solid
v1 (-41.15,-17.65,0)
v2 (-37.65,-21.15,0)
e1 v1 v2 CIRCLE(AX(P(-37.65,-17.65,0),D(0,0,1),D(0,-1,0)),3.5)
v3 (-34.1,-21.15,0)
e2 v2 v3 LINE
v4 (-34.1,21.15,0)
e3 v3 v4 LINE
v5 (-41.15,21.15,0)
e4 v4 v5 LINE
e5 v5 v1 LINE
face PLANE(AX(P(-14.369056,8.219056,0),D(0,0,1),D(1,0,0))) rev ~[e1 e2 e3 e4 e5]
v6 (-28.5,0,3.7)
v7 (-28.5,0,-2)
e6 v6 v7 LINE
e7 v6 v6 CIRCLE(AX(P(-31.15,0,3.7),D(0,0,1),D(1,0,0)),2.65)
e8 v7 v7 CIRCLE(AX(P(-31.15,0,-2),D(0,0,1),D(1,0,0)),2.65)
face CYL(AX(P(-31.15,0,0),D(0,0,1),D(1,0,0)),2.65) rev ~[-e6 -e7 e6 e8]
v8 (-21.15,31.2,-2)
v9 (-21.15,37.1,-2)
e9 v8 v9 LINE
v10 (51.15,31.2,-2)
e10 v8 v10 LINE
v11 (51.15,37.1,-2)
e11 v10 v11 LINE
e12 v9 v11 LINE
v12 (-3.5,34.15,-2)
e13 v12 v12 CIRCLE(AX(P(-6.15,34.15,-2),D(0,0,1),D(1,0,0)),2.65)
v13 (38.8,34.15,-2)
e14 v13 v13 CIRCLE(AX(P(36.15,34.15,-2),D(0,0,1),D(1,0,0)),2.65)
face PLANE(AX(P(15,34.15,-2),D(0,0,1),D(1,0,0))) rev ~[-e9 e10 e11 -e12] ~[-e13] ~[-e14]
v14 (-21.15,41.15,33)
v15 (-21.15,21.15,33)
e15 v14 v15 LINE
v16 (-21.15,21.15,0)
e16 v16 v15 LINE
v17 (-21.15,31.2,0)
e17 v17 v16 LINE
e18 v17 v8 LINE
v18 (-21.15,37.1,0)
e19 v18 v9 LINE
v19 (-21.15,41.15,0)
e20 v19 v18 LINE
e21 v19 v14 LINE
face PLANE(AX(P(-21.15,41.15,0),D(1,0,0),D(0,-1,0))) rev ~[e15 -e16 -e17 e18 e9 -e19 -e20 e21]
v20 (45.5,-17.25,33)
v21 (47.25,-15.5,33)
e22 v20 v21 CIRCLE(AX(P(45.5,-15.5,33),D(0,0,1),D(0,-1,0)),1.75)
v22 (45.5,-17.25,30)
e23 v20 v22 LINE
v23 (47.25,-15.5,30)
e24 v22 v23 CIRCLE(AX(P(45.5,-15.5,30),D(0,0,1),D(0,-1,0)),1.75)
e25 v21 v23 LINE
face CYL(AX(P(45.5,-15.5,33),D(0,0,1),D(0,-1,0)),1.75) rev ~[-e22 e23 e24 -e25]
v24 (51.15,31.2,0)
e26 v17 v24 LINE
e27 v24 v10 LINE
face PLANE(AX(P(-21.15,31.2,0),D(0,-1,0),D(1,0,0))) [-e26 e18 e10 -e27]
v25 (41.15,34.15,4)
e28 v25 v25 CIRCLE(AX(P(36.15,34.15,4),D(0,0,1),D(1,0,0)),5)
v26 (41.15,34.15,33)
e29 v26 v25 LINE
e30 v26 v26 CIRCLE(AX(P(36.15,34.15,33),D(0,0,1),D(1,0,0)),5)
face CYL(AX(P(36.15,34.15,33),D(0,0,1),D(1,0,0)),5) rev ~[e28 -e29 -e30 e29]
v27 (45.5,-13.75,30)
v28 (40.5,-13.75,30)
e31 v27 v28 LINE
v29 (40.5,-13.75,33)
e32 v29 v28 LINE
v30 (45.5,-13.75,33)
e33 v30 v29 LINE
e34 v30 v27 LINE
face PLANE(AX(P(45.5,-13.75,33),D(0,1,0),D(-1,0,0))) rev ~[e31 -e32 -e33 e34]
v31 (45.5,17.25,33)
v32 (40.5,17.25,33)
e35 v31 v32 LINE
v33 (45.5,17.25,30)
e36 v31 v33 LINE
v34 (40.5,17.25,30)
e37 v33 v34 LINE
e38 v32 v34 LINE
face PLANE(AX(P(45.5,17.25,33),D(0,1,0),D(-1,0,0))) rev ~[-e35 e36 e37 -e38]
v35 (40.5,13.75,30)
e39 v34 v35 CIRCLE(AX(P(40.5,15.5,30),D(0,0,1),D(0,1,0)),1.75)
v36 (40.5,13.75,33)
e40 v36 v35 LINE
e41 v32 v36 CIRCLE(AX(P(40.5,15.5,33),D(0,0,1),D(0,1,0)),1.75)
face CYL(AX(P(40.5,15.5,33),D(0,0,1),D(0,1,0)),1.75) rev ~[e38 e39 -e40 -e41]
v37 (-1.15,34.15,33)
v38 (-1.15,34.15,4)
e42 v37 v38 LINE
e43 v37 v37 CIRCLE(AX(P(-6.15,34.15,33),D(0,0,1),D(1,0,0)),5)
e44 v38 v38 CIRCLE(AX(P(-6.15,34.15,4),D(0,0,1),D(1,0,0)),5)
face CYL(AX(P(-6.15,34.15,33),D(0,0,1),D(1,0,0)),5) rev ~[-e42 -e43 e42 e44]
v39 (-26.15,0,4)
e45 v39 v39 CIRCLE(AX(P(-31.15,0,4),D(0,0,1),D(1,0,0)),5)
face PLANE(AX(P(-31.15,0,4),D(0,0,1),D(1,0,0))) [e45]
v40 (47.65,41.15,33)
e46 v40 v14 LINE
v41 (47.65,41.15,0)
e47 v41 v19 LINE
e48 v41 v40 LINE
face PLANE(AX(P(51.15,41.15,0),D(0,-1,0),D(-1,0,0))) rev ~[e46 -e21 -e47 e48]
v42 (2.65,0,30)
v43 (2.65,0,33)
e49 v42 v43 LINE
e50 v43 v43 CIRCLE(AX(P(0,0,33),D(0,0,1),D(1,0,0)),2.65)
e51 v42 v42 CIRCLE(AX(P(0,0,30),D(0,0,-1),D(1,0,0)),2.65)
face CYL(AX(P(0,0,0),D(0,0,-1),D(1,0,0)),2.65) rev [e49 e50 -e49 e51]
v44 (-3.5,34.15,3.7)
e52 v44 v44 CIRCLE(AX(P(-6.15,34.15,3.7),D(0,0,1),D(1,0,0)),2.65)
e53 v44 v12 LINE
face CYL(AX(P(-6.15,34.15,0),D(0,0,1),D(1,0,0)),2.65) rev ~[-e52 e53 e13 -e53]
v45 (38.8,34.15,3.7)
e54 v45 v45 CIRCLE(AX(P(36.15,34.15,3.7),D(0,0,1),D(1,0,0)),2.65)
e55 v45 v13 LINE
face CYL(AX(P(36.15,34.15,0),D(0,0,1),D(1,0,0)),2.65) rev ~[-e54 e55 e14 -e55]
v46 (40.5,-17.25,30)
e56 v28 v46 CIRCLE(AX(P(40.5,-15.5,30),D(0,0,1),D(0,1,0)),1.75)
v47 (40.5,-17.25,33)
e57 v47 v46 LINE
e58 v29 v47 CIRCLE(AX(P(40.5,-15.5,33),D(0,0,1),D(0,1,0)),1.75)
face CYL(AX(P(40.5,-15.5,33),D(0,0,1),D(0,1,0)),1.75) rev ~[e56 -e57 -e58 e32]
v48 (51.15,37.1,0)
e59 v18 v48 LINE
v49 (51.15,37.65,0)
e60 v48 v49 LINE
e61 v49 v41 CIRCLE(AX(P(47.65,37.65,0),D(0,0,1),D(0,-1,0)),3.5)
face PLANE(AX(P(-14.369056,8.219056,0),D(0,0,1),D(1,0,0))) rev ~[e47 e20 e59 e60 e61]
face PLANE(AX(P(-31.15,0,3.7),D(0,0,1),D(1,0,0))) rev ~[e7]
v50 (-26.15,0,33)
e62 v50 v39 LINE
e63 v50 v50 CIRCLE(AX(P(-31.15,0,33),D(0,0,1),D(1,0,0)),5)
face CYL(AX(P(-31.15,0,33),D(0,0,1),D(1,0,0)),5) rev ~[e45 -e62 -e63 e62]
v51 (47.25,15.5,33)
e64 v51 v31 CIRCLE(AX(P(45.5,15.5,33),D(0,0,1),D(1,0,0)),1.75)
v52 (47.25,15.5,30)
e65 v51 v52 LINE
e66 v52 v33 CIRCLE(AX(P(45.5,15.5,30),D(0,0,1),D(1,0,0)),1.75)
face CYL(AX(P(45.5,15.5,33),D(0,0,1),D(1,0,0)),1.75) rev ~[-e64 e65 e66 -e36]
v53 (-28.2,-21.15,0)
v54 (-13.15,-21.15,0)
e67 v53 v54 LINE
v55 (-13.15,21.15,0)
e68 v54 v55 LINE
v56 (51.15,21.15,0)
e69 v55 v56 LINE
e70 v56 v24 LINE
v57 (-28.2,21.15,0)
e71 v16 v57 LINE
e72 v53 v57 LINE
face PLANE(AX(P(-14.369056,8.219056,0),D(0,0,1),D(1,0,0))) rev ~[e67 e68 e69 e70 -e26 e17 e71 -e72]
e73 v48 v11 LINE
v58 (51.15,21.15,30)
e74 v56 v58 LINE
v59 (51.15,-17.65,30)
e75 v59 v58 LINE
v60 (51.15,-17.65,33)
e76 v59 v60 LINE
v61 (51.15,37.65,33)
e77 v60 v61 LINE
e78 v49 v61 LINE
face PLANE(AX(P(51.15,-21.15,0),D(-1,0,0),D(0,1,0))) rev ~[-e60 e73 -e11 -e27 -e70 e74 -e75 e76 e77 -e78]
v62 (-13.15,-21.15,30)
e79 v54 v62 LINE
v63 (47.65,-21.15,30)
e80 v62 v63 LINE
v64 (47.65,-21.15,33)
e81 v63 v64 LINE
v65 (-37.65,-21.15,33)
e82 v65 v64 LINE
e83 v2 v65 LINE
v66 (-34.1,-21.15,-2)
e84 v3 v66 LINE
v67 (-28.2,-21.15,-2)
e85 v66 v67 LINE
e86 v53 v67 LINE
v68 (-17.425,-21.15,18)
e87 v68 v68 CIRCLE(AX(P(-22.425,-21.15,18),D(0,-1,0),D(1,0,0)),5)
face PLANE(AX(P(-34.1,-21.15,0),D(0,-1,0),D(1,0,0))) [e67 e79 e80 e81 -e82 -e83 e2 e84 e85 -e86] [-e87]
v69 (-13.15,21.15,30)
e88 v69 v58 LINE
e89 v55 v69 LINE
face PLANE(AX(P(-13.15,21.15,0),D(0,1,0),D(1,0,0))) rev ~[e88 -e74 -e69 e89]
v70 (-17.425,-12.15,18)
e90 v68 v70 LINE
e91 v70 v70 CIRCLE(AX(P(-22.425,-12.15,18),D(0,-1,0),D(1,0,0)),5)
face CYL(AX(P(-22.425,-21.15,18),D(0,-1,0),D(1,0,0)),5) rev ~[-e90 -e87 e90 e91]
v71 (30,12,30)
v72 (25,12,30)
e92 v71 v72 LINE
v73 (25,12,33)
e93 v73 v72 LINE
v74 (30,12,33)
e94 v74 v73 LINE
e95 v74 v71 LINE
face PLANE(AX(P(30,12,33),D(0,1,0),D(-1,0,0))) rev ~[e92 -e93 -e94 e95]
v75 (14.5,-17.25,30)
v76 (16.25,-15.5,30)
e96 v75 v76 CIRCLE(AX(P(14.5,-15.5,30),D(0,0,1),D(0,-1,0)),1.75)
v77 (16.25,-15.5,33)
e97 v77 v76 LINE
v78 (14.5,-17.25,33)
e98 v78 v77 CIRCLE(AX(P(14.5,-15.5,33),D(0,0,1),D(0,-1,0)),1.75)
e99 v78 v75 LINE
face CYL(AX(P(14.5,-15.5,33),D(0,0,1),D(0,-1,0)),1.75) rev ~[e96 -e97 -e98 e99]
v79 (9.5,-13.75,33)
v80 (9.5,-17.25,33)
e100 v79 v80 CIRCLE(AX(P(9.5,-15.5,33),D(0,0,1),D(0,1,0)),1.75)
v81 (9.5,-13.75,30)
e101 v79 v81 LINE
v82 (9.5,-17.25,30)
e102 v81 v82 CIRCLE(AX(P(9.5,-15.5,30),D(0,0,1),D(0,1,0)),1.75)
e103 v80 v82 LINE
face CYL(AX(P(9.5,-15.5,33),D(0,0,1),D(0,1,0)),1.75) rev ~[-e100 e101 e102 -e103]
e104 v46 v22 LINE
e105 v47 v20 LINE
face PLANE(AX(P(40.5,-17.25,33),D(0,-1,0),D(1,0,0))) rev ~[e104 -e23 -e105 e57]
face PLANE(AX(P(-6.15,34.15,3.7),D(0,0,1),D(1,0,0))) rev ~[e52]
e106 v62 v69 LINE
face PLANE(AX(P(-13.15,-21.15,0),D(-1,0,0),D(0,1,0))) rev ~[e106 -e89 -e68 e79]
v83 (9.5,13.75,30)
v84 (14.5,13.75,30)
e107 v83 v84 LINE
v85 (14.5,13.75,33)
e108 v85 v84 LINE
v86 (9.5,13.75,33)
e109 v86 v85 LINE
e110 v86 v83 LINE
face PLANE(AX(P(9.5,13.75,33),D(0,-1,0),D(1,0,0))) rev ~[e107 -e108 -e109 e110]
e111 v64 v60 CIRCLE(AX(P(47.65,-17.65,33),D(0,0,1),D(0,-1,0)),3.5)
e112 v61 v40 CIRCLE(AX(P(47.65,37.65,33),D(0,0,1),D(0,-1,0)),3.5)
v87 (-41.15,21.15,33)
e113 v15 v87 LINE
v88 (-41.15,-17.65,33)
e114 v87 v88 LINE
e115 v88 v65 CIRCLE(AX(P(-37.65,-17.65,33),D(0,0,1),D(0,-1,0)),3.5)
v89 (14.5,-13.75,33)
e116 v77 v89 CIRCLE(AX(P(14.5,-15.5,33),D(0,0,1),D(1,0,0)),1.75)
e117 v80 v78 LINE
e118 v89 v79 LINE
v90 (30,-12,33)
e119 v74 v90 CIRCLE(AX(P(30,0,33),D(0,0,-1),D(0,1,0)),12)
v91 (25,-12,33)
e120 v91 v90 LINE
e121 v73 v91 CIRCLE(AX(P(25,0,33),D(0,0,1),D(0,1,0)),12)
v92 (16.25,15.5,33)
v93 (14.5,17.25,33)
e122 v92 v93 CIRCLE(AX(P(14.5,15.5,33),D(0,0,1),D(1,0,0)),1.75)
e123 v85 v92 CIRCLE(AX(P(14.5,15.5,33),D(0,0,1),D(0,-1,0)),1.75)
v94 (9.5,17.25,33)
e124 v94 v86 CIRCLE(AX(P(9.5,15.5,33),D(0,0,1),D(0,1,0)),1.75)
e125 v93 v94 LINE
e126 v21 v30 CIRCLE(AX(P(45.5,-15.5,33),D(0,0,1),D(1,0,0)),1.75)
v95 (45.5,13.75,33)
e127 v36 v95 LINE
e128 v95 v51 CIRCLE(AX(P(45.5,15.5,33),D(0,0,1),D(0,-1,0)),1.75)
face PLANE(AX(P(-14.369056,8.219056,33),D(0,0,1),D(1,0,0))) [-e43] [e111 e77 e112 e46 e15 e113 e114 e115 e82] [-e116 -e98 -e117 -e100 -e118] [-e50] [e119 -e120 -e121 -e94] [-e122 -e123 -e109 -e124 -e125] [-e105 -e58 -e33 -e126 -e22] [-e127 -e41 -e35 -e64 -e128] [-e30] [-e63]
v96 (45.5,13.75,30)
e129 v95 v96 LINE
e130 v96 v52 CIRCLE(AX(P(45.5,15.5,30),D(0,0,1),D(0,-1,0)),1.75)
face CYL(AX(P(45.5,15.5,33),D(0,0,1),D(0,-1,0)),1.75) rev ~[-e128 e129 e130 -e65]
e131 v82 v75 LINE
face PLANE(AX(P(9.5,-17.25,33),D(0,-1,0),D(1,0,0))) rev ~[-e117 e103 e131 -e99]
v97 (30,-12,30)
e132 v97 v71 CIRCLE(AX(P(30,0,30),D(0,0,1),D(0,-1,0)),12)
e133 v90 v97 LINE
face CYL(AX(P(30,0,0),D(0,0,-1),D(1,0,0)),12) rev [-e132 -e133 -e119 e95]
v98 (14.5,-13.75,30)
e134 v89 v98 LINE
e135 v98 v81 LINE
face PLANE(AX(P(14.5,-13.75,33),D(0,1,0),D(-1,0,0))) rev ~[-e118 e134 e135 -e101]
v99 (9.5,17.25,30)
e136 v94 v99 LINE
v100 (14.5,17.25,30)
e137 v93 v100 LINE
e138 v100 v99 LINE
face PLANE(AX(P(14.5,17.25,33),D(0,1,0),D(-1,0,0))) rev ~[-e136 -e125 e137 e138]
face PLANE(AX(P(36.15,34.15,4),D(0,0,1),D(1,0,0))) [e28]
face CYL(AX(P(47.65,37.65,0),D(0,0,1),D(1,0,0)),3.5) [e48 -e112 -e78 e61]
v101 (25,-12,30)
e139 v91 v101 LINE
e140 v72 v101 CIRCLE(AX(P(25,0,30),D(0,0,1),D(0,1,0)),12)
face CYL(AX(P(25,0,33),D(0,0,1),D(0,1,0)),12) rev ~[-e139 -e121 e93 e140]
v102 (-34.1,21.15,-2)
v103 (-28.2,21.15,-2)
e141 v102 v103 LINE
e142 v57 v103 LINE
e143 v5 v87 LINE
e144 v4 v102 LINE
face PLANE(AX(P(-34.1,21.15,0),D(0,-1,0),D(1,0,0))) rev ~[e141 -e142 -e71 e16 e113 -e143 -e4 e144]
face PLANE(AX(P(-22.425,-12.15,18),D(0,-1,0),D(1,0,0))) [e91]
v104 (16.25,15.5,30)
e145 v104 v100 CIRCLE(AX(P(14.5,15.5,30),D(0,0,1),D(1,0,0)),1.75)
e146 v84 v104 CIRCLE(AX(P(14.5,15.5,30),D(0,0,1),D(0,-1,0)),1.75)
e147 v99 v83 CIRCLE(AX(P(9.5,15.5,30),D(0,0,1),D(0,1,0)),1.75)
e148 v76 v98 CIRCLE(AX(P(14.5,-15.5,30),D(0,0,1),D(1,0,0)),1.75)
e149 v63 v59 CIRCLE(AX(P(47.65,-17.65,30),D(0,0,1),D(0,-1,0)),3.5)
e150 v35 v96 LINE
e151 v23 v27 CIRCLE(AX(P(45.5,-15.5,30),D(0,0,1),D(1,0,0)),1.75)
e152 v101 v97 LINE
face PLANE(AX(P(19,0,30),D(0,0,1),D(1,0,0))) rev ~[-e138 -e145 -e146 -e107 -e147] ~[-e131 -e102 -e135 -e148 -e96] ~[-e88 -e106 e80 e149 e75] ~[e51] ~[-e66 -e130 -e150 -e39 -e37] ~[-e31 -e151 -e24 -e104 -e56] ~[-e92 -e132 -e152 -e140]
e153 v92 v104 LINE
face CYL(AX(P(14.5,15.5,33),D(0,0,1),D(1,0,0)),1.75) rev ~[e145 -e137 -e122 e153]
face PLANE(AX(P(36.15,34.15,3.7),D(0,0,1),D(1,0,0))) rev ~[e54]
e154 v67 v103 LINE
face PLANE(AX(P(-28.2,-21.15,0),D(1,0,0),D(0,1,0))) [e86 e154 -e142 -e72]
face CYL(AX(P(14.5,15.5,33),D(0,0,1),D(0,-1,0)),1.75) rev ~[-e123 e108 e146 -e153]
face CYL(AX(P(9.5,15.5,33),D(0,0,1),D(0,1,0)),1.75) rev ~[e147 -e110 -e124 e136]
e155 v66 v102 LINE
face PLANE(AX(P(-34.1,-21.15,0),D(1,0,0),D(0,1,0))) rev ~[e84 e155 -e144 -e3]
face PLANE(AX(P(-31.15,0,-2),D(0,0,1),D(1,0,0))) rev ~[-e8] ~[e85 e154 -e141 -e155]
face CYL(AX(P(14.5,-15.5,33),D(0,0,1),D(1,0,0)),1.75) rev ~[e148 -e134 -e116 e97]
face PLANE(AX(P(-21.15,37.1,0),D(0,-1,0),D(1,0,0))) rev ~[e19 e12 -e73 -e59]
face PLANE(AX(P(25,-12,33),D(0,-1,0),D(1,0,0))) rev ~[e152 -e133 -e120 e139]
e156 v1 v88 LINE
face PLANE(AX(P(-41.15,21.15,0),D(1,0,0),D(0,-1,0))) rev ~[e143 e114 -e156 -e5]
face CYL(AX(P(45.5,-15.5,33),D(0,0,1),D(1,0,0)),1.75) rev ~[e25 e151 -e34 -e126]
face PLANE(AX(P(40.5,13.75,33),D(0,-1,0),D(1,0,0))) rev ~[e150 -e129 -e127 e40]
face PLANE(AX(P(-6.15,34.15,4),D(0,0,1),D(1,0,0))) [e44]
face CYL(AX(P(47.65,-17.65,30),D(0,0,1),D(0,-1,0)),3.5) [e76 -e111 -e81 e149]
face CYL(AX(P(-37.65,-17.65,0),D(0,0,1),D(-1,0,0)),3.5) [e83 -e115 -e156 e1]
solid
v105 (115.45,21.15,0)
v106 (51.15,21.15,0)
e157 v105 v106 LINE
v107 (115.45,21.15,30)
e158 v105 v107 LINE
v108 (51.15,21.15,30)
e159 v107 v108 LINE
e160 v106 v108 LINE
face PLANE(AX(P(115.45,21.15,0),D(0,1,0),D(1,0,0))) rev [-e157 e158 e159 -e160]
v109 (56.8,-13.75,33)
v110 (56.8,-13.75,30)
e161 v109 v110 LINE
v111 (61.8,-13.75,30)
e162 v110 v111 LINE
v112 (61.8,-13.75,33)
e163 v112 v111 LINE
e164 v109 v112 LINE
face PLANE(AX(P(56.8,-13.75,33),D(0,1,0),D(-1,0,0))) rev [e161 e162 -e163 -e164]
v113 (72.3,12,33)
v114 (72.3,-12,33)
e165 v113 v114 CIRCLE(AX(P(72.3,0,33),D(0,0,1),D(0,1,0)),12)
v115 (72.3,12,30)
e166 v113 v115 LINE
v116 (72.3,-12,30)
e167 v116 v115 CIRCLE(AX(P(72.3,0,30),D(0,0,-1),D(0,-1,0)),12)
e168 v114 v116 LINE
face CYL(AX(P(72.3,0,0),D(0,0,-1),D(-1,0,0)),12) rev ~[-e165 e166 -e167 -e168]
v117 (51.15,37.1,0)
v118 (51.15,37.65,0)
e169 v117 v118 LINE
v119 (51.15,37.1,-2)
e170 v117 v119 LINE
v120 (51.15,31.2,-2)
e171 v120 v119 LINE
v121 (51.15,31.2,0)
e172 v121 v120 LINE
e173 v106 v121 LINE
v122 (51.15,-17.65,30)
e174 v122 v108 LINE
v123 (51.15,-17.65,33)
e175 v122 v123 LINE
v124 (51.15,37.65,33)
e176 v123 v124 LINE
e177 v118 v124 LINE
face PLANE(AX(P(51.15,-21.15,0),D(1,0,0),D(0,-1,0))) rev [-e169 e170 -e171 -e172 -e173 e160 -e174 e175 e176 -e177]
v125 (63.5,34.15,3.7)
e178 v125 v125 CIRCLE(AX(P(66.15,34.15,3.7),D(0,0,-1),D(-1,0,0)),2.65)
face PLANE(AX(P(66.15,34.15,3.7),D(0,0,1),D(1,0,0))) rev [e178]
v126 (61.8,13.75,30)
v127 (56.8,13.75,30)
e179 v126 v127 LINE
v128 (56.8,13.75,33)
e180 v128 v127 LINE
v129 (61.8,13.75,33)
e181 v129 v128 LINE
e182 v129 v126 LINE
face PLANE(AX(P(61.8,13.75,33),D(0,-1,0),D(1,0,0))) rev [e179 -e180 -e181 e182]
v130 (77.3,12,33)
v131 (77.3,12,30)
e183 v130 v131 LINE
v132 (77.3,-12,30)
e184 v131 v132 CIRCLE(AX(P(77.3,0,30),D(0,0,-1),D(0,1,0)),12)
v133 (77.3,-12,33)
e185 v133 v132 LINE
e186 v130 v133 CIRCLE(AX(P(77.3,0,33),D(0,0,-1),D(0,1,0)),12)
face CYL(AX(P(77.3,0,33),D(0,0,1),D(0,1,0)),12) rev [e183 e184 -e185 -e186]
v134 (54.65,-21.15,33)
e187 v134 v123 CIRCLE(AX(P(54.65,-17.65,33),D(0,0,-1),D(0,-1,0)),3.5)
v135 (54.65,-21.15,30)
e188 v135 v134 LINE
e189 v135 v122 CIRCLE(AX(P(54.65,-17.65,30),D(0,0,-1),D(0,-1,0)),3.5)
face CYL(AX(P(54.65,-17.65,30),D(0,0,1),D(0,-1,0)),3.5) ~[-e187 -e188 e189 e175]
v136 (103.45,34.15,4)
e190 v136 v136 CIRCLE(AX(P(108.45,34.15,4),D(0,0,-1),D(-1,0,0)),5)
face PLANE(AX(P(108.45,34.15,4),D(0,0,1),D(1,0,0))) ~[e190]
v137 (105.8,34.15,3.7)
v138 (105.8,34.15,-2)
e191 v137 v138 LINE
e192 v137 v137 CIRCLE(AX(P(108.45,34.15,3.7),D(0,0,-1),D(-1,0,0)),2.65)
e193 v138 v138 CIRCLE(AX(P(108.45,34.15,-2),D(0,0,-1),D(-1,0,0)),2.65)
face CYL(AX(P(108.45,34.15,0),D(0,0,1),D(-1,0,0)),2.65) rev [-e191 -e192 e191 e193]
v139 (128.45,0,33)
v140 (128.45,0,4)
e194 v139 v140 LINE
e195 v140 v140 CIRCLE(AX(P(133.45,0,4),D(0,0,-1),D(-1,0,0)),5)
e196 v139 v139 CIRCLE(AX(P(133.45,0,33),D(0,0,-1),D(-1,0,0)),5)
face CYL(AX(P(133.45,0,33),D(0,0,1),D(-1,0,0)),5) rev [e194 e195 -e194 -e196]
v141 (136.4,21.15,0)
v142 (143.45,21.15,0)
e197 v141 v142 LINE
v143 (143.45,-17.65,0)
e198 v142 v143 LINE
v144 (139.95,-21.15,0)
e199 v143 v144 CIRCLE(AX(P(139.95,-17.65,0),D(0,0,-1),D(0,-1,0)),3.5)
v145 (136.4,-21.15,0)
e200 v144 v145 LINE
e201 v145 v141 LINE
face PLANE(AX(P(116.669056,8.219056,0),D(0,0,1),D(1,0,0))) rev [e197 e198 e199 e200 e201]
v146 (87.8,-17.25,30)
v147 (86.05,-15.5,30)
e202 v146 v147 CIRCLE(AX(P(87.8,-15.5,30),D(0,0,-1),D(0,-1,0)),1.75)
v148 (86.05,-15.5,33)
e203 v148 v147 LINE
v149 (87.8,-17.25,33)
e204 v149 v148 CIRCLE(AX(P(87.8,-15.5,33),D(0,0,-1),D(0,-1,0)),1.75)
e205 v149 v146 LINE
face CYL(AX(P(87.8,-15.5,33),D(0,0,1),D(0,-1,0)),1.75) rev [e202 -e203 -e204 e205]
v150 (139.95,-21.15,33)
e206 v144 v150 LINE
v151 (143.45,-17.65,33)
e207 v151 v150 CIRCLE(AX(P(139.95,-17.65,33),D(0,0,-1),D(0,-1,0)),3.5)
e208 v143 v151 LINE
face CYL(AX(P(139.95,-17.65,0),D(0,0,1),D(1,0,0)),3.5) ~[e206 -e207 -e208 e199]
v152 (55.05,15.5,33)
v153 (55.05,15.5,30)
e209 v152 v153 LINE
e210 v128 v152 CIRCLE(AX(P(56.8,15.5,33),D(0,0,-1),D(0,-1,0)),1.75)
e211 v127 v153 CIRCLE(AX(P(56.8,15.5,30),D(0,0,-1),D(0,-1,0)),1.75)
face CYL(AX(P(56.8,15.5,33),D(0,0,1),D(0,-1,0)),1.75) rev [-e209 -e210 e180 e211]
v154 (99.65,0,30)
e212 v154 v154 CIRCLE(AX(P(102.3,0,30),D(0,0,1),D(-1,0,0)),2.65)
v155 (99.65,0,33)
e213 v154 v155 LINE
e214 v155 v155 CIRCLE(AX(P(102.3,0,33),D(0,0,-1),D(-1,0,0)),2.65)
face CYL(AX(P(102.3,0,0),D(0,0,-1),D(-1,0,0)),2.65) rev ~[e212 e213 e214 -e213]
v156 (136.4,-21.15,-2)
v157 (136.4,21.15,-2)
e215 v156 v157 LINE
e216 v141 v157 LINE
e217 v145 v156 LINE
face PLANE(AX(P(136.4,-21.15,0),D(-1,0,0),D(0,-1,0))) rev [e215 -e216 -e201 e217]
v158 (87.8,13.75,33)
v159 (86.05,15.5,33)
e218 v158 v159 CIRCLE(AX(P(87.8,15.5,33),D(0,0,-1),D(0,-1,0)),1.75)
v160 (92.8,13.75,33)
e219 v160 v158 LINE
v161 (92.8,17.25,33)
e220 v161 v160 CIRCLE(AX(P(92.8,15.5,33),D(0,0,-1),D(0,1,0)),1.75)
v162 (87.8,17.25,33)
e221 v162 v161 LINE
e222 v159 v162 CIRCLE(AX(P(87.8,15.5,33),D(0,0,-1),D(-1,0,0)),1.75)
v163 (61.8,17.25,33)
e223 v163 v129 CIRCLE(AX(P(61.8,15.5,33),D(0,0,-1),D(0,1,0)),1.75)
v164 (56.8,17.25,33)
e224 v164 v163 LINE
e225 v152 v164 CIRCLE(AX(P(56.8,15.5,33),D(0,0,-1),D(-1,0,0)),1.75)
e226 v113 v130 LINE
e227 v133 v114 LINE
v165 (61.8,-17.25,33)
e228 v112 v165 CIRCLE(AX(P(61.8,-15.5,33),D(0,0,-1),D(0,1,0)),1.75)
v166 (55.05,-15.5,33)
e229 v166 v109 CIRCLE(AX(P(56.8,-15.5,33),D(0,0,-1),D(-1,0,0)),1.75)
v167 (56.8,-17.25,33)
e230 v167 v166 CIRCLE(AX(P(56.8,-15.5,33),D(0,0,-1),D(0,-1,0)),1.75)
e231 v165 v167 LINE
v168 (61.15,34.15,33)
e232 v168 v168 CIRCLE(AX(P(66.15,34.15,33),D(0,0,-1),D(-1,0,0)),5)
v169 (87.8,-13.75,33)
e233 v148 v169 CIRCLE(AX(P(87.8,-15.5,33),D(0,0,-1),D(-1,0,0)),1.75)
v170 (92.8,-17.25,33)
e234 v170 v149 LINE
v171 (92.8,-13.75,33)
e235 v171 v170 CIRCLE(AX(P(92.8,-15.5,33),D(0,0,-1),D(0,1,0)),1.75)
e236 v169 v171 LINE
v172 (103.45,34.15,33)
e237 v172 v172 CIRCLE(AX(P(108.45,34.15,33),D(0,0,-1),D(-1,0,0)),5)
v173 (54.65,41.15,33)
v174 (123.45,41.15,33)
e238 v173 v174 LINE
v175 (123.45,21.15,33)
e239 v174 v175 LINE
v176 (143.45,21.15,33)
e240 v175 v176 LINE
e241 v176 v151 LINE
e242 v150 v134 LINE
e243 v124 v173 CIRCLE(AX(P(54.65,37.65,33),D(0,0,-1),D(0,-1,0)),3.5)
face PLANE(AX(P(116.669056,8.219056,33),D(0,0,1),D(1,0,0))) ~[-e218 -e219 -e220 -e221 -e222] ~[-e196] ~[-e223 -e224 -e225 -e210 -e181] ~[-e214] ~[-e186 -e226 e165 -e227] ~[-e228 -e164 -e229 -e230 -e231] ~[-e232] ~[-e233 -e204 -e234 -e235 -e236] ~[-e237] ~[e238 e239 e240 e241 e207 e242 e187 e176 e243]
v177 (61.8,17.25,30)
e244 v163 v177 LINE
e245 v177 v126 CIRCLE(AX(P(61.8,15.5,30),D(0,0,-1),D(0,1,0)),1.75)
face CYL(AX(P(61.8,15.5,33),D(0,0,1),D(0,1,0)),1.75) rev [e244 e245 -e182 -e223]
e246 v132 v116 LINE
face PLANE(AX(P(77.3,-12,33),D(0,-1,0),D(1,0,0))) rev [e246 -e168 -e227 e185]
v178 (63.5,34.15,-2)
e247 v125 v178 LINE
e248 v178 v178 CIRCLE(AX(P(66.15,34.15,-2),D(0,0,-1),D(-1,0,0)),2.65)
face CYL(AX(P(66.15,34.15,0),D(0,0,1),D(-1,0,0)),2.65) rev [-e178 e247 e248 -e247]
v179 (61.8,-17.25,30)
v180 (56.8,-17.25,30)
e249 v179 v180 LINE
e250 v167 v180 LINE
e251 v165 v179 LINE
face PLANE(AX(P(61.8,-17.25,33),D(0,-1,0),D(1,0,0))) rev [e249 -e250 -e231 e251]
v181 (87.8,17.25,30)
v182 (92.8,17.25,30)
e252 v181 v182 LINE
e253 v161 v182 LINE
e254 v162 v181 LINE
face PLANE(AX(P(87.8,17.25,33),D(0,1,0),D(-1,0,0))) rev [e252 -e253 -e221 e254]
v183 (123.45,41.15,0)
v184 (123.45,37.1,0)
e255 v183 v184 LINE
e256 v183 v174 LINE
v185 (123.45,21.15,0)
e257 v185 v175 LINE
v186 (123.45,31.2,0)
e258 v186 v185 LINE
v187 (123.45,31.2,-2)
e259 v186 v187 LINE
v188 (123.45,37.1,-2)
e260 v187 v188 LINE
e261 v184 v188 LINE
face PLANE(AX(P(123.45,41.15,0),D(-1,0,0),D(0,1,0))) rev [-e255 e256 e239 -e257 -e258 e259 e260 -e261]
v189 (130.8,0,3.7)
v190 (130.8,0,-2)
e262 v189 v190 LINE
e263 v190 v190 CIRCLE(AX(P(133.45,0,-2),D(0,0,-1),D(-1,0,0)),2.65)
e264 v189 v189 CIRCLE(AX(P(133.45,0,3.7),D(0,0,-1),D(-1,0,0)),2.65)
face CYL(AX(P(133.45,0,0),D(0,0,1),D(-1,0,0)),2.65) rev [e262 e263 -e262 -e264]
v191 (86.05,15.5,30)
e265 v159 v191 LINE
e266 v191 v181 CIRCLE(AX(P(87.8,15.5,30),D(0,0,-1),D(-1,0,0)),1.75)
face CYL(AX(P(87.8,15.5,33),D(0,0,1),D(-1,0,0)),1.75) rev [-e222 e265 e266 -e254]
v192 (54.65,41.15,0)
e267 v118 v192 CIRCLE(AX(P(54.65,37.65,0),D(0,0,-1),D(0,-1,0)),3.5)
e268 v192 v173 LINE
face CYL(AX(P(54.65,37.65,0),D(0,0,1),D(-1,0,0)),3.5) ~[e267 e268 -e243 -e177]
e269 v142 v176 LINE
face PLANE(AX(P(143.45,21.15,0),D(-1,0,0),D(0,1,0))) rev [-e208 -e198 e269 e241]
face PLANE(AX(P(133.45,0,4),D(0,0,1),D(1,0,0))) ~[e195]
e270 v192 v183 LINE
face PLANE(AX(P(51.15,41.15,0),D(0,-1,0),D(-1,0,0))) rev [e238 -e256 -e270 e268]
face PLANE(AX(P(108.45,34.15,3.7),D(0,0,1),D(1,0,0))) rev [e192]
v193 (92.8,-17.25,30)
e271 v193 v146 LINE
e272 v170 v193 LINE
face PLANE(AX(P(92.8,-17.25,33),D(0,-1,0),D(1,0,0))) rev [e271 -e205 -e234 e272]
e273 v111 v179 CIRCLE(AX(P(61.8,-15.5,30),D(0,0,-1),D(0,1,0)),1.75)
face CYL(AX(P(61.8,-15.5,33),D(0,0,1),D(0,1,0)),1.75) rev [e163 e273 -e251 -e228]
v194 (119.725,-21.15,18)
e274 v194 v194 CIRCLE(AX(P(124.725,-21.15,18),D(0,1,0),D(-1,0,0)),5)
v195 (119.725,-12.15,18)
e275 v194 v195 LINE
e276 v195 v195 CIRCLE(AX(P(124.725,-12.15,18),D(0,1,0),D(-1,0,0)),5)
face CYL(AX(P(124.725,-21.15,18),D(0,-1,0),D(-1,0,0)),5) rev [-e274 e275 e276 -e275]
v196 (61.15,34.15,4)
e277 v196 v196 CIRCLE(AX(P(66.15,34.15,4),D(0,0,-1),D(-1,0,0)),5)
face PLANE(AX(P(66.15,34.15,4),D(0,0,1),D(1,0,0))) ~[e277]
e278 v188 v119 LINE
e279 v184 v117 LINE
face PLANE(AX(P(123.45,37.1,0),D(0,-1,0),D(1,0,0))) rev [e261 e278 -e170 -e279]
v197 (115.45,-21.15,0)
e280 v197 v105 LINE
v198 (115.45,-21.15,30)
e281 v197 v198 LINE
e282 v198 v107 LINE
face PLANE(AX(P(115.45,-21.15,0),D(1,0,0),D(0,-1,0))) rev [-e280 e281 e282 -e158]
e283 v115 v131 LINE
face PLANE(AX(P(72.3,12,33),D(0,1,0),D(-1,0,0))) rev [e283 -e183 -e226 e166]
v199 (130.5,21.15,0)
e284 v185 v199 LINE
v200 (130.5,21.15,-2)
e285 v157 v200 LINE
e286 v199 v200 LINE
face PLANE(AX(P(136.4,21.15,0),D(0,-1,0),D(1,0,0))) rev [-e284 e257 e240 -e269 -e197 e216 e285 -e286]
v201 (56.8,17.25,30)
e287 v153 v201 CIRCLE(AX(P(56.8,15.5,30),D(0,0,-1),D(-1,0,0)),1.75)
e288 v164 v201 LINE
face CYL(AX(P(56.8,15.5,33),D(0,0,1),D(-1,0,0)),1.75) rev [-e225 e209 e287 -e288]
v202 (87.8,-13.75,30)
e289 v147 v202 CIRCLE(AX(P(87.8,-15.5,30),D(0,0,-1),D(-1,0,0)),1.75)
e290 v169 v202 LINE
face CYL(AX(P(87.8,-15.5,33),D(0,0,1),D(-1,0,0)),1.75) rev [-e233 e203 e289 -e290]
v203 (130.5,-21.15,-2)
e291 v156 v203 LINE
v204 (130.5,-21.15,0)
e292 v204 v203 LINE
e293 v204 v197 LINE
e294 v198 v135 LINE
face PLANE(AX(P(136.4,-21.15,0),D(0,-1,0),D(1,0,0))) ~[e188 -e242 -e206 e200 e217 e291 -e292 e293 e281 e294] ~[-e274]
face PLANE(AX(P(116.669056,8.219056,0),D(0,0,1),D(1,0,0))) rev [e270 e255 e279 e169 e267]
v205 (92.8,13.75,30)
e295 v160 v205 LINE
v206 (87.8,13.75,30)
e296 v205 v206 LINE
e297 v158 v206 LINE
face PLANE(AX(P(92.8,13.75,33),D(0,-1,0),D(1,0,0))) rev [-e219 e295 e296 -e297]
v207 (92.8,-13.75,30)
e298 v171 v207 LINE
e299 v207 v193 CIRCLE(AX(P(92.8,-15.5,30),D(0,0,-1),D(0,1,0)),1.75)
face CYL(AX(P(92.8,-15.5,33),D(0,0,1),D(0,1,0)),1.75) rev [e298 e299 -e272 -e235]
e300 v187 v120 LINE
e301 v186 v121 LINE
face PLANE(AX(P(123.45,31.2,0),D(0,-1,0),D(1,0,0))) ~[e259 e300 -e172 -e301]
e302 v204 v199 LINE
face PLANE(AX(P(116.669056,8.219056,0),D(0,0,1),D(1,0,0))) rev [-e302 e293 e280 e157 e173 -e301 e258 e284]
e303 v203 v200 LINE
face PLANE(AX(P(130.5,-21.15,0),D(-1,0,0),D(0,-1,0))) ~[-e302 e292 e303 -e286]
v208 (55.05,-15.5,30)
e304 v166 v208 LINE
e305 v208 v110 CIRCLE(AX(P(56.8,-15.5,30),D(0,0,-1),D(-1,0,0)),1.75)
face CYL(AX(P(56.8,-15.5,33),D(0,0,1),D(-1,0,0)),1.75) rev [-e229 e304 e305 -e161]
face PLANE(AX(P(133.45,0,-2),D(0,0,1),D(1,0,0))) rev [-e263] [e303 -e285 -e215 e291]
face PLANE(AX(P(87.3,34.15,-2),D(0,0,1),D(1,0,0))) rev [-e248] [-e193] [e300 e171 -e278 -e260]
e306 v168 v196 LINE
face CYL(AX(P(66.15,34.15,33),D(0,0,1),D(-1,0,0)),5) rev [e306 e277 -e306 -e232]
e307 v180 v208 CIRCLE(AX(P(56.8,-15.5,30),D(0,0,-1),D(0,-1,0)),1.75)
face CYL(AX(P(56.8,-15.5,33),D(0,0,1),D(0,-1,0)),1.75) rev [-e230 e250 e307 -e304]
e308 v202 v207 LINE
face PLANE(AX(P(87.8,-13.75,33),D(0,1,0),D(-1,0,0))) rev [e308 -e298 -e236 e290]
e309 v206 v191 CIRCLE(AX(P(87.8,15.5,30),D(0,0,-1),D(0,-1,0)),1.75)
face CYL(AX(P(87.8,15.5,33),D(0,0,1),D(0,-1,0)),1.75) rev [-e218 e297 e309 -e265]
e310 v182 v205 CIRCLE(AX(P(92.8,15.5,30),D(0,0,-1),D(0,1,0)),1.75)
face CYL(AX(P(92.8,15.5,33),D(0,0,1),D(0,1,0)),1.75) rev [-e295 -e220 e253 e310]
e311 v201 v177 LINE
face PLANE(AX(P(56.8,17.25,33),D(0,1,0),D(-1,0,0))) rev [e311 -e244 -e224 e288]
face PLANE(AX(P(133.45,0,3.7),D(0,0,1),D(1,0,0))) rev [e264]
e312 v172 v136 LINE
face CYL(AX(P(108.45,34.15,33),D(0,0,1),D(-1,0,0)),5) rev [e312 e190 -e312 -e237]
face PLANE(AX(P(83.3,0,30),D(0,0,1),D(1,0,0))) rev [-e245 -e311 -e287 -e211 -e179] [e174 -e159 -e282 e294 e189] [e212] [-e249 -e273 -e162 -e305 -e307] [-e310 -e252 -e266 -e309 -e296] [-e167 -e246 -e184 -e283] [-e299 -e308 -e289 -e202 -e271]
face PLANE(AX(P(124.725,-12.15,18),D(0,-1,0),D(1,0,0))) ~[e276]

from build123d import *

# Parameters (mm, degrees)
F0_R      = 2.65
F0_W      = 42.3
F0_H      = 62.3
F0_R_2    = 12
F1_DEPTH  = 33
F2_R      = 5
F3_DEPTH  = 9
F4_W      = 64.3
F4_H      = 42.3
F5_DEPTH  = 30
F6_R      = 5
F7_DEPTH  = 29
F8_W      = 5.9
F8_H      = 42.3
F8_R      = 2.65
F8_W_2    = 72.3
F8_H_2    = 5.9
F9_DEPTH  = 2
F11_DEPTH = 35.001
F12_R     = 2.65
F13_DEPTH = 0.3
F14_R     = 3.5


with BuildPart() as f1:
    # F0 (on Top) → F1 (new body)
    with BuildSketch(Plane.XY):
        Polygon((8.85, 41.15), (-21.15, 41.15), (-21.15, 21.15), (-41.15, 21.15), (-41.15, -21.15), (8.85, -21.15), align=None)
        with Locations((-31.15, 0)):
            Circle(F0_R, mode=Mode.SUBTRACT)
        Circle(F0_R, mode=Mode.SUBTRACT)
        with Locations((-6.15, 34.15)):
            Circle(F0_R, mode=Mode.SUBTRACT)
        with Locations((30, 10)):
            Rectangle(F0_W, F0_H)
        with Locations((30, 0)):
            Circle(F0_R_2, mode=Mode.SUBTRACT)
        with Locations((36.15, 34.15)):
            Circle(F0_R, mode=Mode.SUBTRACT)
    extrude(amount=F1_DEPTH)

    # F2 (on face) → F3 (cut)
    with BuildSketch(Plane.XZ.offset(21.15)):
        with Locations((-22.425, 18)):
            Circle(F2_R)
    extrude(amount=-F3_DEPTH, mode=Mode.SUBTRACT)

    # F4 (on face) → F5 (cut)
    with BuildSketch(Plane.XY):
        with Locations((19, 0)):
            Rectangle(F4_W, F4_H)
    extrude(amount=F5_DEPTH, mode=Mode.SUBTRACT)

    # F6 (on face) → F7 (cut)
    with BuildSketch(Plane.XY.offset(33)):
        with Locations((-6.15, 34.15)):
            Circle(F6_R)
        with Locations((-31.15, 0)):
            Circle(F6_R)
        with Locations((36.15, 34.15)):
            Circle(F6_R)
    extrude(amount=-F7_DEPTH, mode=Mode.SUBTRACT)

    # F8 (on face) → F9 (join)
    with BuildSketch(Plane.XY):
        with Locations((-31.15, 0)):
            Rectangle(F8_W, F8_H)
        with Locations((-31.15, 0)):
            Circle(F8_R, mode=Mode.SUBTRACT)
        with Locations((15, 34.15)):
            Rectangle(F8_W_2, F8_H_2)
        with Locations((-6.15, 34.15)):
            Circle(F8_R, mode=Mode.SUBTRACT)
        with Locations((36.15, 34.15)):
            Circle(F8_R, mode=Mode.SUBTRACT)
    extrude(amount=-F9_DEPTH)

    # F10 (on face) → F11 (cut, through all)
    with BuildSketch(Plane.XY.offset(33)):
        with BuildLine():
            ThreePointArc((45.5, 13.75), (46.7374368671, 14.2625631329), (47.25, 15.5))
            ThreePointArc((47.25, 15.5), (46.7374368671, 16.7374368671), (45.5, 17.25))
            ThreePointArc((45.5, 17.25), (43.75, 15.5), (45.5, 13.75))
        make_face()
        with BuildLine():
            ThreePointArc((45.5, 13.75), (43.75, 15.5), (45.5, 17.25))
            Line((45.5, 17.25), (40.5, 17.25))
            ThreePointArc((40.5, 17.25), (41.7374368671, 16.7374368671), (42.25, 15.5))
            ThreePointArc((42.25, 15.5), (41.7374368671, 14.2625631329), (40.5, 13.75))
            Line((40.5, 13.75), (45.5, 13.75))
        make_face()
        with BuildLine():
            ThreePointArc((42.25, 15.5), (41.7374368671, 16.7374368671), (40.5, 17.25))
            ThreePointArc((40.5, 17.25), (38.75, 15.5), (40.5, 13.75))
            ThreePointArc((40.5, 13.75), (41.7374368671, 14.2625631329), (42.25, 15.5))
        make_face()
        with BuildLine():
            ThreePointArc((14.5, 13.75), (15.7374368671, 14.2625631329), (16.25, 15.5))
            ThreePointArc((16.25, 15.5), (15.7374368671, 16.7374368671), (14.5, 17.25))
            ThreePointArc((14.5, 17.25), (12.75, 15.5), (14.5, 13.75))
        make_face()
        with BuildLine():
            ThreePointArc((14.5, 13.75), (12.75, 15.5), (14.5, 17.25))
            Line((14.5, 17.25), (9.5, 17.25))
            ThreePointArc((9.5, 17.25), (10.7374368671, 16.7374368671), (11.25, 15.5))
            ThreePointArc((11.25, 15.5), (10.7374368671, 14.2625631329), (9.5, 13.75))
            Line((9.5, 13.75), (14.5, 13.75))
        make_face()
        with BuildLine():
            ThreePointArc((11.25, 15.5), (10.7374368671, 16.7374368671), (9.5, 17.25))
            ThreePointArc((9.5, 17.25), (7.75, 15.5), (9.5, 13.75))
            ThreePointArc((9.5, 13.75), (10.7374368671, 14.2625631329), (11.25, 15.5))
        make_face()
        with BuildLine():
            ThreePointArc((14.5, -17.25), (15.7374368671, -16.7374368671), (16.25, -15.5))
            ThreePointArc((16.25, -15.5), (15.7374368671, -14.2625631329), (14.5, -13.75))
            ThreePointArc((14.5, -13.75), (12.75, -15.5), (14.5, -17.25))
        make_face()
        with BuildLine():
            ThreePointArc((14.5, -17.25), (12.75, -15.5), (14.5, -13.75))
            Line((14.5, -13.75), (9.5, -13.75))
            ThreePointArc((9.5, -13.75), (10.7374368671, -14.2625631329), (11.25, -15.5))
            ThreePointArc((11.25, -15.5), (10.7374368671, -16.7374368671), (9.5, -17.25))
            Line((9.5, -17.25), (14.5, -17.25))
        make_face()
        with BuildLine():
            ThreePointArc((11.25, -15.5), (10.7374368671, -14.2625631329), (9.5, -13.75))
            ThreePointArc((9.5, -13.75), (7.75, -15.5), (9.5, -17.25))
            ThreePointArc((9.5, -17.25), (10.7374368671, -16.7374368671), (11.25, -15.5))
        make_face()
        with BuildLine():
            ThreePointArc((45.5, -17.25), (46.7374368671, -16.7374368671), (47.25, -15.5))
            ThreePointArc((47.25, -15.5), (46.7374368671, -14.2625631329), (45.5, -13.75))
            ThreePointArc((45.5, -13.75), (43.75, -15.5), (45.5, -17.25))
        make_face()
        with BuildLine():
            ThreePointArc((45.5, -17.25), (43.75, -15.5), (45.5, -13.75))
            Line((45.5, -13.75), (40.5, -13.75))
            ThreePointArc((40.5, -13.75), (41.7374368671, -14.2625631329), (42.25, -15.5))
            ThreePointArc((42.25, -15.5), (41.7374368671, -16.7374368671), (40.5, -17.25))
            Line((40.5, -17.25), (45.5, -17.25))
        make_face()
        with BuildLine():
            ThreePointArc((42.25, -15.5), (41.7374368671, -14.2625631329), (40.5, -13.75))
            ThreePointArc((40.5, -13.75), (38.75, -15.5), (40.5, -17.25))
            ThreePointArc((40.5, -17.25), (41.7374368671, -16.7374368671), (42.25, -15.5))
        make_face()
        with BuildLine():
            ThreePointArc((27.5, 11.7366945943), (26.2569138531, 11.9339921052), (25, 12))
            ThreePointArc((25, 12), (13, 0), (25, -12))
            ThreePointArc((25, -12), (26.2569138531, -11.9339921052), (27.5, -11.7366945943))
            ThreePointArc((27.5, -11.7366945943), (18, 0), (27.5, 11.7366945943))
        make_face()
        with BuildLine():
            Line((30, 12), (25, 12))
            ThreePointArc((25, 12), (26.2569138531, 11.9339921052), (27.5, 11.7366945943))
            ThreePointArc((27.5, 11.7366945943), (28.7430861469, 11.9339921052), (30, 12))
        make_face()
        with BuildLine():
            ThreePointArc((27.5, -11.7366945943), (26.2569138531, -11.9339921052), (25, -12))
            Line((25, -12), (30, -12))
            ThreePointArc((30, -12), (28.7430861469, -11.9339921052), (27.5, -11.7366945943))
        make_face()
        with BuildLine():
            ThreePointArc((30, 12), (28.7430861469, 11.9339921052), (27.5, 11.7366945943))
            ThreePointArc((27.5, 11.7366945943), (34.3273790531, 7.5498344353), (37, 0))
            ThreePointArc((37, 0), (34.3273790531, -7.5498344353), (27.5, -11.7366945943))
            ThreePointArc((27.5, -11.7366945943), (28.7430861469, -11.9339921052), (30, -12))
            ThreePointArc((30, -12), (38.4852813742, -8.4852813742), (42, 0))
            ThreePointArc((42, 0), (38.4852813742, 8.4852813742), (30, 12))
        make_face()
    extrude(amount=-F11_DEPTH, mode=Mode.SUBTRACT)

    # F12 (on face) → F13 (join)
    with BuildSketch(Plane.XY.offset(4)):
        with Locations((-31.15, 0)):
            Circle(F12_R)
        with Locations((-6.15, 34.15)):
            Circle(F12_R)
        with Locations((36.15, 34.15)):
            Circle(F12_R)
    extrude(amount=-F13_DEPTH)

    # F14
    f14_edges = [f1.edges().sort_by_distance(p)[0] for p in [
        (-41.15, -21.15, 16.5),
        (51.15, -21.15, 31.5),
        (51.15, 41.15, 16.5),
    ]]
    fillet(f14_edges, radius=F14_R)


with BuildPart() as f15_1:
    # F15: instance of F1
    add(f1.part.mirror(Plane(origin=(51.15, 24.6989296863, 18.7885387245), x_dir=(0, 1, 0), z_dir=(1, 0, 0))))


solid = Compound([f1.part, f15_1.part])
